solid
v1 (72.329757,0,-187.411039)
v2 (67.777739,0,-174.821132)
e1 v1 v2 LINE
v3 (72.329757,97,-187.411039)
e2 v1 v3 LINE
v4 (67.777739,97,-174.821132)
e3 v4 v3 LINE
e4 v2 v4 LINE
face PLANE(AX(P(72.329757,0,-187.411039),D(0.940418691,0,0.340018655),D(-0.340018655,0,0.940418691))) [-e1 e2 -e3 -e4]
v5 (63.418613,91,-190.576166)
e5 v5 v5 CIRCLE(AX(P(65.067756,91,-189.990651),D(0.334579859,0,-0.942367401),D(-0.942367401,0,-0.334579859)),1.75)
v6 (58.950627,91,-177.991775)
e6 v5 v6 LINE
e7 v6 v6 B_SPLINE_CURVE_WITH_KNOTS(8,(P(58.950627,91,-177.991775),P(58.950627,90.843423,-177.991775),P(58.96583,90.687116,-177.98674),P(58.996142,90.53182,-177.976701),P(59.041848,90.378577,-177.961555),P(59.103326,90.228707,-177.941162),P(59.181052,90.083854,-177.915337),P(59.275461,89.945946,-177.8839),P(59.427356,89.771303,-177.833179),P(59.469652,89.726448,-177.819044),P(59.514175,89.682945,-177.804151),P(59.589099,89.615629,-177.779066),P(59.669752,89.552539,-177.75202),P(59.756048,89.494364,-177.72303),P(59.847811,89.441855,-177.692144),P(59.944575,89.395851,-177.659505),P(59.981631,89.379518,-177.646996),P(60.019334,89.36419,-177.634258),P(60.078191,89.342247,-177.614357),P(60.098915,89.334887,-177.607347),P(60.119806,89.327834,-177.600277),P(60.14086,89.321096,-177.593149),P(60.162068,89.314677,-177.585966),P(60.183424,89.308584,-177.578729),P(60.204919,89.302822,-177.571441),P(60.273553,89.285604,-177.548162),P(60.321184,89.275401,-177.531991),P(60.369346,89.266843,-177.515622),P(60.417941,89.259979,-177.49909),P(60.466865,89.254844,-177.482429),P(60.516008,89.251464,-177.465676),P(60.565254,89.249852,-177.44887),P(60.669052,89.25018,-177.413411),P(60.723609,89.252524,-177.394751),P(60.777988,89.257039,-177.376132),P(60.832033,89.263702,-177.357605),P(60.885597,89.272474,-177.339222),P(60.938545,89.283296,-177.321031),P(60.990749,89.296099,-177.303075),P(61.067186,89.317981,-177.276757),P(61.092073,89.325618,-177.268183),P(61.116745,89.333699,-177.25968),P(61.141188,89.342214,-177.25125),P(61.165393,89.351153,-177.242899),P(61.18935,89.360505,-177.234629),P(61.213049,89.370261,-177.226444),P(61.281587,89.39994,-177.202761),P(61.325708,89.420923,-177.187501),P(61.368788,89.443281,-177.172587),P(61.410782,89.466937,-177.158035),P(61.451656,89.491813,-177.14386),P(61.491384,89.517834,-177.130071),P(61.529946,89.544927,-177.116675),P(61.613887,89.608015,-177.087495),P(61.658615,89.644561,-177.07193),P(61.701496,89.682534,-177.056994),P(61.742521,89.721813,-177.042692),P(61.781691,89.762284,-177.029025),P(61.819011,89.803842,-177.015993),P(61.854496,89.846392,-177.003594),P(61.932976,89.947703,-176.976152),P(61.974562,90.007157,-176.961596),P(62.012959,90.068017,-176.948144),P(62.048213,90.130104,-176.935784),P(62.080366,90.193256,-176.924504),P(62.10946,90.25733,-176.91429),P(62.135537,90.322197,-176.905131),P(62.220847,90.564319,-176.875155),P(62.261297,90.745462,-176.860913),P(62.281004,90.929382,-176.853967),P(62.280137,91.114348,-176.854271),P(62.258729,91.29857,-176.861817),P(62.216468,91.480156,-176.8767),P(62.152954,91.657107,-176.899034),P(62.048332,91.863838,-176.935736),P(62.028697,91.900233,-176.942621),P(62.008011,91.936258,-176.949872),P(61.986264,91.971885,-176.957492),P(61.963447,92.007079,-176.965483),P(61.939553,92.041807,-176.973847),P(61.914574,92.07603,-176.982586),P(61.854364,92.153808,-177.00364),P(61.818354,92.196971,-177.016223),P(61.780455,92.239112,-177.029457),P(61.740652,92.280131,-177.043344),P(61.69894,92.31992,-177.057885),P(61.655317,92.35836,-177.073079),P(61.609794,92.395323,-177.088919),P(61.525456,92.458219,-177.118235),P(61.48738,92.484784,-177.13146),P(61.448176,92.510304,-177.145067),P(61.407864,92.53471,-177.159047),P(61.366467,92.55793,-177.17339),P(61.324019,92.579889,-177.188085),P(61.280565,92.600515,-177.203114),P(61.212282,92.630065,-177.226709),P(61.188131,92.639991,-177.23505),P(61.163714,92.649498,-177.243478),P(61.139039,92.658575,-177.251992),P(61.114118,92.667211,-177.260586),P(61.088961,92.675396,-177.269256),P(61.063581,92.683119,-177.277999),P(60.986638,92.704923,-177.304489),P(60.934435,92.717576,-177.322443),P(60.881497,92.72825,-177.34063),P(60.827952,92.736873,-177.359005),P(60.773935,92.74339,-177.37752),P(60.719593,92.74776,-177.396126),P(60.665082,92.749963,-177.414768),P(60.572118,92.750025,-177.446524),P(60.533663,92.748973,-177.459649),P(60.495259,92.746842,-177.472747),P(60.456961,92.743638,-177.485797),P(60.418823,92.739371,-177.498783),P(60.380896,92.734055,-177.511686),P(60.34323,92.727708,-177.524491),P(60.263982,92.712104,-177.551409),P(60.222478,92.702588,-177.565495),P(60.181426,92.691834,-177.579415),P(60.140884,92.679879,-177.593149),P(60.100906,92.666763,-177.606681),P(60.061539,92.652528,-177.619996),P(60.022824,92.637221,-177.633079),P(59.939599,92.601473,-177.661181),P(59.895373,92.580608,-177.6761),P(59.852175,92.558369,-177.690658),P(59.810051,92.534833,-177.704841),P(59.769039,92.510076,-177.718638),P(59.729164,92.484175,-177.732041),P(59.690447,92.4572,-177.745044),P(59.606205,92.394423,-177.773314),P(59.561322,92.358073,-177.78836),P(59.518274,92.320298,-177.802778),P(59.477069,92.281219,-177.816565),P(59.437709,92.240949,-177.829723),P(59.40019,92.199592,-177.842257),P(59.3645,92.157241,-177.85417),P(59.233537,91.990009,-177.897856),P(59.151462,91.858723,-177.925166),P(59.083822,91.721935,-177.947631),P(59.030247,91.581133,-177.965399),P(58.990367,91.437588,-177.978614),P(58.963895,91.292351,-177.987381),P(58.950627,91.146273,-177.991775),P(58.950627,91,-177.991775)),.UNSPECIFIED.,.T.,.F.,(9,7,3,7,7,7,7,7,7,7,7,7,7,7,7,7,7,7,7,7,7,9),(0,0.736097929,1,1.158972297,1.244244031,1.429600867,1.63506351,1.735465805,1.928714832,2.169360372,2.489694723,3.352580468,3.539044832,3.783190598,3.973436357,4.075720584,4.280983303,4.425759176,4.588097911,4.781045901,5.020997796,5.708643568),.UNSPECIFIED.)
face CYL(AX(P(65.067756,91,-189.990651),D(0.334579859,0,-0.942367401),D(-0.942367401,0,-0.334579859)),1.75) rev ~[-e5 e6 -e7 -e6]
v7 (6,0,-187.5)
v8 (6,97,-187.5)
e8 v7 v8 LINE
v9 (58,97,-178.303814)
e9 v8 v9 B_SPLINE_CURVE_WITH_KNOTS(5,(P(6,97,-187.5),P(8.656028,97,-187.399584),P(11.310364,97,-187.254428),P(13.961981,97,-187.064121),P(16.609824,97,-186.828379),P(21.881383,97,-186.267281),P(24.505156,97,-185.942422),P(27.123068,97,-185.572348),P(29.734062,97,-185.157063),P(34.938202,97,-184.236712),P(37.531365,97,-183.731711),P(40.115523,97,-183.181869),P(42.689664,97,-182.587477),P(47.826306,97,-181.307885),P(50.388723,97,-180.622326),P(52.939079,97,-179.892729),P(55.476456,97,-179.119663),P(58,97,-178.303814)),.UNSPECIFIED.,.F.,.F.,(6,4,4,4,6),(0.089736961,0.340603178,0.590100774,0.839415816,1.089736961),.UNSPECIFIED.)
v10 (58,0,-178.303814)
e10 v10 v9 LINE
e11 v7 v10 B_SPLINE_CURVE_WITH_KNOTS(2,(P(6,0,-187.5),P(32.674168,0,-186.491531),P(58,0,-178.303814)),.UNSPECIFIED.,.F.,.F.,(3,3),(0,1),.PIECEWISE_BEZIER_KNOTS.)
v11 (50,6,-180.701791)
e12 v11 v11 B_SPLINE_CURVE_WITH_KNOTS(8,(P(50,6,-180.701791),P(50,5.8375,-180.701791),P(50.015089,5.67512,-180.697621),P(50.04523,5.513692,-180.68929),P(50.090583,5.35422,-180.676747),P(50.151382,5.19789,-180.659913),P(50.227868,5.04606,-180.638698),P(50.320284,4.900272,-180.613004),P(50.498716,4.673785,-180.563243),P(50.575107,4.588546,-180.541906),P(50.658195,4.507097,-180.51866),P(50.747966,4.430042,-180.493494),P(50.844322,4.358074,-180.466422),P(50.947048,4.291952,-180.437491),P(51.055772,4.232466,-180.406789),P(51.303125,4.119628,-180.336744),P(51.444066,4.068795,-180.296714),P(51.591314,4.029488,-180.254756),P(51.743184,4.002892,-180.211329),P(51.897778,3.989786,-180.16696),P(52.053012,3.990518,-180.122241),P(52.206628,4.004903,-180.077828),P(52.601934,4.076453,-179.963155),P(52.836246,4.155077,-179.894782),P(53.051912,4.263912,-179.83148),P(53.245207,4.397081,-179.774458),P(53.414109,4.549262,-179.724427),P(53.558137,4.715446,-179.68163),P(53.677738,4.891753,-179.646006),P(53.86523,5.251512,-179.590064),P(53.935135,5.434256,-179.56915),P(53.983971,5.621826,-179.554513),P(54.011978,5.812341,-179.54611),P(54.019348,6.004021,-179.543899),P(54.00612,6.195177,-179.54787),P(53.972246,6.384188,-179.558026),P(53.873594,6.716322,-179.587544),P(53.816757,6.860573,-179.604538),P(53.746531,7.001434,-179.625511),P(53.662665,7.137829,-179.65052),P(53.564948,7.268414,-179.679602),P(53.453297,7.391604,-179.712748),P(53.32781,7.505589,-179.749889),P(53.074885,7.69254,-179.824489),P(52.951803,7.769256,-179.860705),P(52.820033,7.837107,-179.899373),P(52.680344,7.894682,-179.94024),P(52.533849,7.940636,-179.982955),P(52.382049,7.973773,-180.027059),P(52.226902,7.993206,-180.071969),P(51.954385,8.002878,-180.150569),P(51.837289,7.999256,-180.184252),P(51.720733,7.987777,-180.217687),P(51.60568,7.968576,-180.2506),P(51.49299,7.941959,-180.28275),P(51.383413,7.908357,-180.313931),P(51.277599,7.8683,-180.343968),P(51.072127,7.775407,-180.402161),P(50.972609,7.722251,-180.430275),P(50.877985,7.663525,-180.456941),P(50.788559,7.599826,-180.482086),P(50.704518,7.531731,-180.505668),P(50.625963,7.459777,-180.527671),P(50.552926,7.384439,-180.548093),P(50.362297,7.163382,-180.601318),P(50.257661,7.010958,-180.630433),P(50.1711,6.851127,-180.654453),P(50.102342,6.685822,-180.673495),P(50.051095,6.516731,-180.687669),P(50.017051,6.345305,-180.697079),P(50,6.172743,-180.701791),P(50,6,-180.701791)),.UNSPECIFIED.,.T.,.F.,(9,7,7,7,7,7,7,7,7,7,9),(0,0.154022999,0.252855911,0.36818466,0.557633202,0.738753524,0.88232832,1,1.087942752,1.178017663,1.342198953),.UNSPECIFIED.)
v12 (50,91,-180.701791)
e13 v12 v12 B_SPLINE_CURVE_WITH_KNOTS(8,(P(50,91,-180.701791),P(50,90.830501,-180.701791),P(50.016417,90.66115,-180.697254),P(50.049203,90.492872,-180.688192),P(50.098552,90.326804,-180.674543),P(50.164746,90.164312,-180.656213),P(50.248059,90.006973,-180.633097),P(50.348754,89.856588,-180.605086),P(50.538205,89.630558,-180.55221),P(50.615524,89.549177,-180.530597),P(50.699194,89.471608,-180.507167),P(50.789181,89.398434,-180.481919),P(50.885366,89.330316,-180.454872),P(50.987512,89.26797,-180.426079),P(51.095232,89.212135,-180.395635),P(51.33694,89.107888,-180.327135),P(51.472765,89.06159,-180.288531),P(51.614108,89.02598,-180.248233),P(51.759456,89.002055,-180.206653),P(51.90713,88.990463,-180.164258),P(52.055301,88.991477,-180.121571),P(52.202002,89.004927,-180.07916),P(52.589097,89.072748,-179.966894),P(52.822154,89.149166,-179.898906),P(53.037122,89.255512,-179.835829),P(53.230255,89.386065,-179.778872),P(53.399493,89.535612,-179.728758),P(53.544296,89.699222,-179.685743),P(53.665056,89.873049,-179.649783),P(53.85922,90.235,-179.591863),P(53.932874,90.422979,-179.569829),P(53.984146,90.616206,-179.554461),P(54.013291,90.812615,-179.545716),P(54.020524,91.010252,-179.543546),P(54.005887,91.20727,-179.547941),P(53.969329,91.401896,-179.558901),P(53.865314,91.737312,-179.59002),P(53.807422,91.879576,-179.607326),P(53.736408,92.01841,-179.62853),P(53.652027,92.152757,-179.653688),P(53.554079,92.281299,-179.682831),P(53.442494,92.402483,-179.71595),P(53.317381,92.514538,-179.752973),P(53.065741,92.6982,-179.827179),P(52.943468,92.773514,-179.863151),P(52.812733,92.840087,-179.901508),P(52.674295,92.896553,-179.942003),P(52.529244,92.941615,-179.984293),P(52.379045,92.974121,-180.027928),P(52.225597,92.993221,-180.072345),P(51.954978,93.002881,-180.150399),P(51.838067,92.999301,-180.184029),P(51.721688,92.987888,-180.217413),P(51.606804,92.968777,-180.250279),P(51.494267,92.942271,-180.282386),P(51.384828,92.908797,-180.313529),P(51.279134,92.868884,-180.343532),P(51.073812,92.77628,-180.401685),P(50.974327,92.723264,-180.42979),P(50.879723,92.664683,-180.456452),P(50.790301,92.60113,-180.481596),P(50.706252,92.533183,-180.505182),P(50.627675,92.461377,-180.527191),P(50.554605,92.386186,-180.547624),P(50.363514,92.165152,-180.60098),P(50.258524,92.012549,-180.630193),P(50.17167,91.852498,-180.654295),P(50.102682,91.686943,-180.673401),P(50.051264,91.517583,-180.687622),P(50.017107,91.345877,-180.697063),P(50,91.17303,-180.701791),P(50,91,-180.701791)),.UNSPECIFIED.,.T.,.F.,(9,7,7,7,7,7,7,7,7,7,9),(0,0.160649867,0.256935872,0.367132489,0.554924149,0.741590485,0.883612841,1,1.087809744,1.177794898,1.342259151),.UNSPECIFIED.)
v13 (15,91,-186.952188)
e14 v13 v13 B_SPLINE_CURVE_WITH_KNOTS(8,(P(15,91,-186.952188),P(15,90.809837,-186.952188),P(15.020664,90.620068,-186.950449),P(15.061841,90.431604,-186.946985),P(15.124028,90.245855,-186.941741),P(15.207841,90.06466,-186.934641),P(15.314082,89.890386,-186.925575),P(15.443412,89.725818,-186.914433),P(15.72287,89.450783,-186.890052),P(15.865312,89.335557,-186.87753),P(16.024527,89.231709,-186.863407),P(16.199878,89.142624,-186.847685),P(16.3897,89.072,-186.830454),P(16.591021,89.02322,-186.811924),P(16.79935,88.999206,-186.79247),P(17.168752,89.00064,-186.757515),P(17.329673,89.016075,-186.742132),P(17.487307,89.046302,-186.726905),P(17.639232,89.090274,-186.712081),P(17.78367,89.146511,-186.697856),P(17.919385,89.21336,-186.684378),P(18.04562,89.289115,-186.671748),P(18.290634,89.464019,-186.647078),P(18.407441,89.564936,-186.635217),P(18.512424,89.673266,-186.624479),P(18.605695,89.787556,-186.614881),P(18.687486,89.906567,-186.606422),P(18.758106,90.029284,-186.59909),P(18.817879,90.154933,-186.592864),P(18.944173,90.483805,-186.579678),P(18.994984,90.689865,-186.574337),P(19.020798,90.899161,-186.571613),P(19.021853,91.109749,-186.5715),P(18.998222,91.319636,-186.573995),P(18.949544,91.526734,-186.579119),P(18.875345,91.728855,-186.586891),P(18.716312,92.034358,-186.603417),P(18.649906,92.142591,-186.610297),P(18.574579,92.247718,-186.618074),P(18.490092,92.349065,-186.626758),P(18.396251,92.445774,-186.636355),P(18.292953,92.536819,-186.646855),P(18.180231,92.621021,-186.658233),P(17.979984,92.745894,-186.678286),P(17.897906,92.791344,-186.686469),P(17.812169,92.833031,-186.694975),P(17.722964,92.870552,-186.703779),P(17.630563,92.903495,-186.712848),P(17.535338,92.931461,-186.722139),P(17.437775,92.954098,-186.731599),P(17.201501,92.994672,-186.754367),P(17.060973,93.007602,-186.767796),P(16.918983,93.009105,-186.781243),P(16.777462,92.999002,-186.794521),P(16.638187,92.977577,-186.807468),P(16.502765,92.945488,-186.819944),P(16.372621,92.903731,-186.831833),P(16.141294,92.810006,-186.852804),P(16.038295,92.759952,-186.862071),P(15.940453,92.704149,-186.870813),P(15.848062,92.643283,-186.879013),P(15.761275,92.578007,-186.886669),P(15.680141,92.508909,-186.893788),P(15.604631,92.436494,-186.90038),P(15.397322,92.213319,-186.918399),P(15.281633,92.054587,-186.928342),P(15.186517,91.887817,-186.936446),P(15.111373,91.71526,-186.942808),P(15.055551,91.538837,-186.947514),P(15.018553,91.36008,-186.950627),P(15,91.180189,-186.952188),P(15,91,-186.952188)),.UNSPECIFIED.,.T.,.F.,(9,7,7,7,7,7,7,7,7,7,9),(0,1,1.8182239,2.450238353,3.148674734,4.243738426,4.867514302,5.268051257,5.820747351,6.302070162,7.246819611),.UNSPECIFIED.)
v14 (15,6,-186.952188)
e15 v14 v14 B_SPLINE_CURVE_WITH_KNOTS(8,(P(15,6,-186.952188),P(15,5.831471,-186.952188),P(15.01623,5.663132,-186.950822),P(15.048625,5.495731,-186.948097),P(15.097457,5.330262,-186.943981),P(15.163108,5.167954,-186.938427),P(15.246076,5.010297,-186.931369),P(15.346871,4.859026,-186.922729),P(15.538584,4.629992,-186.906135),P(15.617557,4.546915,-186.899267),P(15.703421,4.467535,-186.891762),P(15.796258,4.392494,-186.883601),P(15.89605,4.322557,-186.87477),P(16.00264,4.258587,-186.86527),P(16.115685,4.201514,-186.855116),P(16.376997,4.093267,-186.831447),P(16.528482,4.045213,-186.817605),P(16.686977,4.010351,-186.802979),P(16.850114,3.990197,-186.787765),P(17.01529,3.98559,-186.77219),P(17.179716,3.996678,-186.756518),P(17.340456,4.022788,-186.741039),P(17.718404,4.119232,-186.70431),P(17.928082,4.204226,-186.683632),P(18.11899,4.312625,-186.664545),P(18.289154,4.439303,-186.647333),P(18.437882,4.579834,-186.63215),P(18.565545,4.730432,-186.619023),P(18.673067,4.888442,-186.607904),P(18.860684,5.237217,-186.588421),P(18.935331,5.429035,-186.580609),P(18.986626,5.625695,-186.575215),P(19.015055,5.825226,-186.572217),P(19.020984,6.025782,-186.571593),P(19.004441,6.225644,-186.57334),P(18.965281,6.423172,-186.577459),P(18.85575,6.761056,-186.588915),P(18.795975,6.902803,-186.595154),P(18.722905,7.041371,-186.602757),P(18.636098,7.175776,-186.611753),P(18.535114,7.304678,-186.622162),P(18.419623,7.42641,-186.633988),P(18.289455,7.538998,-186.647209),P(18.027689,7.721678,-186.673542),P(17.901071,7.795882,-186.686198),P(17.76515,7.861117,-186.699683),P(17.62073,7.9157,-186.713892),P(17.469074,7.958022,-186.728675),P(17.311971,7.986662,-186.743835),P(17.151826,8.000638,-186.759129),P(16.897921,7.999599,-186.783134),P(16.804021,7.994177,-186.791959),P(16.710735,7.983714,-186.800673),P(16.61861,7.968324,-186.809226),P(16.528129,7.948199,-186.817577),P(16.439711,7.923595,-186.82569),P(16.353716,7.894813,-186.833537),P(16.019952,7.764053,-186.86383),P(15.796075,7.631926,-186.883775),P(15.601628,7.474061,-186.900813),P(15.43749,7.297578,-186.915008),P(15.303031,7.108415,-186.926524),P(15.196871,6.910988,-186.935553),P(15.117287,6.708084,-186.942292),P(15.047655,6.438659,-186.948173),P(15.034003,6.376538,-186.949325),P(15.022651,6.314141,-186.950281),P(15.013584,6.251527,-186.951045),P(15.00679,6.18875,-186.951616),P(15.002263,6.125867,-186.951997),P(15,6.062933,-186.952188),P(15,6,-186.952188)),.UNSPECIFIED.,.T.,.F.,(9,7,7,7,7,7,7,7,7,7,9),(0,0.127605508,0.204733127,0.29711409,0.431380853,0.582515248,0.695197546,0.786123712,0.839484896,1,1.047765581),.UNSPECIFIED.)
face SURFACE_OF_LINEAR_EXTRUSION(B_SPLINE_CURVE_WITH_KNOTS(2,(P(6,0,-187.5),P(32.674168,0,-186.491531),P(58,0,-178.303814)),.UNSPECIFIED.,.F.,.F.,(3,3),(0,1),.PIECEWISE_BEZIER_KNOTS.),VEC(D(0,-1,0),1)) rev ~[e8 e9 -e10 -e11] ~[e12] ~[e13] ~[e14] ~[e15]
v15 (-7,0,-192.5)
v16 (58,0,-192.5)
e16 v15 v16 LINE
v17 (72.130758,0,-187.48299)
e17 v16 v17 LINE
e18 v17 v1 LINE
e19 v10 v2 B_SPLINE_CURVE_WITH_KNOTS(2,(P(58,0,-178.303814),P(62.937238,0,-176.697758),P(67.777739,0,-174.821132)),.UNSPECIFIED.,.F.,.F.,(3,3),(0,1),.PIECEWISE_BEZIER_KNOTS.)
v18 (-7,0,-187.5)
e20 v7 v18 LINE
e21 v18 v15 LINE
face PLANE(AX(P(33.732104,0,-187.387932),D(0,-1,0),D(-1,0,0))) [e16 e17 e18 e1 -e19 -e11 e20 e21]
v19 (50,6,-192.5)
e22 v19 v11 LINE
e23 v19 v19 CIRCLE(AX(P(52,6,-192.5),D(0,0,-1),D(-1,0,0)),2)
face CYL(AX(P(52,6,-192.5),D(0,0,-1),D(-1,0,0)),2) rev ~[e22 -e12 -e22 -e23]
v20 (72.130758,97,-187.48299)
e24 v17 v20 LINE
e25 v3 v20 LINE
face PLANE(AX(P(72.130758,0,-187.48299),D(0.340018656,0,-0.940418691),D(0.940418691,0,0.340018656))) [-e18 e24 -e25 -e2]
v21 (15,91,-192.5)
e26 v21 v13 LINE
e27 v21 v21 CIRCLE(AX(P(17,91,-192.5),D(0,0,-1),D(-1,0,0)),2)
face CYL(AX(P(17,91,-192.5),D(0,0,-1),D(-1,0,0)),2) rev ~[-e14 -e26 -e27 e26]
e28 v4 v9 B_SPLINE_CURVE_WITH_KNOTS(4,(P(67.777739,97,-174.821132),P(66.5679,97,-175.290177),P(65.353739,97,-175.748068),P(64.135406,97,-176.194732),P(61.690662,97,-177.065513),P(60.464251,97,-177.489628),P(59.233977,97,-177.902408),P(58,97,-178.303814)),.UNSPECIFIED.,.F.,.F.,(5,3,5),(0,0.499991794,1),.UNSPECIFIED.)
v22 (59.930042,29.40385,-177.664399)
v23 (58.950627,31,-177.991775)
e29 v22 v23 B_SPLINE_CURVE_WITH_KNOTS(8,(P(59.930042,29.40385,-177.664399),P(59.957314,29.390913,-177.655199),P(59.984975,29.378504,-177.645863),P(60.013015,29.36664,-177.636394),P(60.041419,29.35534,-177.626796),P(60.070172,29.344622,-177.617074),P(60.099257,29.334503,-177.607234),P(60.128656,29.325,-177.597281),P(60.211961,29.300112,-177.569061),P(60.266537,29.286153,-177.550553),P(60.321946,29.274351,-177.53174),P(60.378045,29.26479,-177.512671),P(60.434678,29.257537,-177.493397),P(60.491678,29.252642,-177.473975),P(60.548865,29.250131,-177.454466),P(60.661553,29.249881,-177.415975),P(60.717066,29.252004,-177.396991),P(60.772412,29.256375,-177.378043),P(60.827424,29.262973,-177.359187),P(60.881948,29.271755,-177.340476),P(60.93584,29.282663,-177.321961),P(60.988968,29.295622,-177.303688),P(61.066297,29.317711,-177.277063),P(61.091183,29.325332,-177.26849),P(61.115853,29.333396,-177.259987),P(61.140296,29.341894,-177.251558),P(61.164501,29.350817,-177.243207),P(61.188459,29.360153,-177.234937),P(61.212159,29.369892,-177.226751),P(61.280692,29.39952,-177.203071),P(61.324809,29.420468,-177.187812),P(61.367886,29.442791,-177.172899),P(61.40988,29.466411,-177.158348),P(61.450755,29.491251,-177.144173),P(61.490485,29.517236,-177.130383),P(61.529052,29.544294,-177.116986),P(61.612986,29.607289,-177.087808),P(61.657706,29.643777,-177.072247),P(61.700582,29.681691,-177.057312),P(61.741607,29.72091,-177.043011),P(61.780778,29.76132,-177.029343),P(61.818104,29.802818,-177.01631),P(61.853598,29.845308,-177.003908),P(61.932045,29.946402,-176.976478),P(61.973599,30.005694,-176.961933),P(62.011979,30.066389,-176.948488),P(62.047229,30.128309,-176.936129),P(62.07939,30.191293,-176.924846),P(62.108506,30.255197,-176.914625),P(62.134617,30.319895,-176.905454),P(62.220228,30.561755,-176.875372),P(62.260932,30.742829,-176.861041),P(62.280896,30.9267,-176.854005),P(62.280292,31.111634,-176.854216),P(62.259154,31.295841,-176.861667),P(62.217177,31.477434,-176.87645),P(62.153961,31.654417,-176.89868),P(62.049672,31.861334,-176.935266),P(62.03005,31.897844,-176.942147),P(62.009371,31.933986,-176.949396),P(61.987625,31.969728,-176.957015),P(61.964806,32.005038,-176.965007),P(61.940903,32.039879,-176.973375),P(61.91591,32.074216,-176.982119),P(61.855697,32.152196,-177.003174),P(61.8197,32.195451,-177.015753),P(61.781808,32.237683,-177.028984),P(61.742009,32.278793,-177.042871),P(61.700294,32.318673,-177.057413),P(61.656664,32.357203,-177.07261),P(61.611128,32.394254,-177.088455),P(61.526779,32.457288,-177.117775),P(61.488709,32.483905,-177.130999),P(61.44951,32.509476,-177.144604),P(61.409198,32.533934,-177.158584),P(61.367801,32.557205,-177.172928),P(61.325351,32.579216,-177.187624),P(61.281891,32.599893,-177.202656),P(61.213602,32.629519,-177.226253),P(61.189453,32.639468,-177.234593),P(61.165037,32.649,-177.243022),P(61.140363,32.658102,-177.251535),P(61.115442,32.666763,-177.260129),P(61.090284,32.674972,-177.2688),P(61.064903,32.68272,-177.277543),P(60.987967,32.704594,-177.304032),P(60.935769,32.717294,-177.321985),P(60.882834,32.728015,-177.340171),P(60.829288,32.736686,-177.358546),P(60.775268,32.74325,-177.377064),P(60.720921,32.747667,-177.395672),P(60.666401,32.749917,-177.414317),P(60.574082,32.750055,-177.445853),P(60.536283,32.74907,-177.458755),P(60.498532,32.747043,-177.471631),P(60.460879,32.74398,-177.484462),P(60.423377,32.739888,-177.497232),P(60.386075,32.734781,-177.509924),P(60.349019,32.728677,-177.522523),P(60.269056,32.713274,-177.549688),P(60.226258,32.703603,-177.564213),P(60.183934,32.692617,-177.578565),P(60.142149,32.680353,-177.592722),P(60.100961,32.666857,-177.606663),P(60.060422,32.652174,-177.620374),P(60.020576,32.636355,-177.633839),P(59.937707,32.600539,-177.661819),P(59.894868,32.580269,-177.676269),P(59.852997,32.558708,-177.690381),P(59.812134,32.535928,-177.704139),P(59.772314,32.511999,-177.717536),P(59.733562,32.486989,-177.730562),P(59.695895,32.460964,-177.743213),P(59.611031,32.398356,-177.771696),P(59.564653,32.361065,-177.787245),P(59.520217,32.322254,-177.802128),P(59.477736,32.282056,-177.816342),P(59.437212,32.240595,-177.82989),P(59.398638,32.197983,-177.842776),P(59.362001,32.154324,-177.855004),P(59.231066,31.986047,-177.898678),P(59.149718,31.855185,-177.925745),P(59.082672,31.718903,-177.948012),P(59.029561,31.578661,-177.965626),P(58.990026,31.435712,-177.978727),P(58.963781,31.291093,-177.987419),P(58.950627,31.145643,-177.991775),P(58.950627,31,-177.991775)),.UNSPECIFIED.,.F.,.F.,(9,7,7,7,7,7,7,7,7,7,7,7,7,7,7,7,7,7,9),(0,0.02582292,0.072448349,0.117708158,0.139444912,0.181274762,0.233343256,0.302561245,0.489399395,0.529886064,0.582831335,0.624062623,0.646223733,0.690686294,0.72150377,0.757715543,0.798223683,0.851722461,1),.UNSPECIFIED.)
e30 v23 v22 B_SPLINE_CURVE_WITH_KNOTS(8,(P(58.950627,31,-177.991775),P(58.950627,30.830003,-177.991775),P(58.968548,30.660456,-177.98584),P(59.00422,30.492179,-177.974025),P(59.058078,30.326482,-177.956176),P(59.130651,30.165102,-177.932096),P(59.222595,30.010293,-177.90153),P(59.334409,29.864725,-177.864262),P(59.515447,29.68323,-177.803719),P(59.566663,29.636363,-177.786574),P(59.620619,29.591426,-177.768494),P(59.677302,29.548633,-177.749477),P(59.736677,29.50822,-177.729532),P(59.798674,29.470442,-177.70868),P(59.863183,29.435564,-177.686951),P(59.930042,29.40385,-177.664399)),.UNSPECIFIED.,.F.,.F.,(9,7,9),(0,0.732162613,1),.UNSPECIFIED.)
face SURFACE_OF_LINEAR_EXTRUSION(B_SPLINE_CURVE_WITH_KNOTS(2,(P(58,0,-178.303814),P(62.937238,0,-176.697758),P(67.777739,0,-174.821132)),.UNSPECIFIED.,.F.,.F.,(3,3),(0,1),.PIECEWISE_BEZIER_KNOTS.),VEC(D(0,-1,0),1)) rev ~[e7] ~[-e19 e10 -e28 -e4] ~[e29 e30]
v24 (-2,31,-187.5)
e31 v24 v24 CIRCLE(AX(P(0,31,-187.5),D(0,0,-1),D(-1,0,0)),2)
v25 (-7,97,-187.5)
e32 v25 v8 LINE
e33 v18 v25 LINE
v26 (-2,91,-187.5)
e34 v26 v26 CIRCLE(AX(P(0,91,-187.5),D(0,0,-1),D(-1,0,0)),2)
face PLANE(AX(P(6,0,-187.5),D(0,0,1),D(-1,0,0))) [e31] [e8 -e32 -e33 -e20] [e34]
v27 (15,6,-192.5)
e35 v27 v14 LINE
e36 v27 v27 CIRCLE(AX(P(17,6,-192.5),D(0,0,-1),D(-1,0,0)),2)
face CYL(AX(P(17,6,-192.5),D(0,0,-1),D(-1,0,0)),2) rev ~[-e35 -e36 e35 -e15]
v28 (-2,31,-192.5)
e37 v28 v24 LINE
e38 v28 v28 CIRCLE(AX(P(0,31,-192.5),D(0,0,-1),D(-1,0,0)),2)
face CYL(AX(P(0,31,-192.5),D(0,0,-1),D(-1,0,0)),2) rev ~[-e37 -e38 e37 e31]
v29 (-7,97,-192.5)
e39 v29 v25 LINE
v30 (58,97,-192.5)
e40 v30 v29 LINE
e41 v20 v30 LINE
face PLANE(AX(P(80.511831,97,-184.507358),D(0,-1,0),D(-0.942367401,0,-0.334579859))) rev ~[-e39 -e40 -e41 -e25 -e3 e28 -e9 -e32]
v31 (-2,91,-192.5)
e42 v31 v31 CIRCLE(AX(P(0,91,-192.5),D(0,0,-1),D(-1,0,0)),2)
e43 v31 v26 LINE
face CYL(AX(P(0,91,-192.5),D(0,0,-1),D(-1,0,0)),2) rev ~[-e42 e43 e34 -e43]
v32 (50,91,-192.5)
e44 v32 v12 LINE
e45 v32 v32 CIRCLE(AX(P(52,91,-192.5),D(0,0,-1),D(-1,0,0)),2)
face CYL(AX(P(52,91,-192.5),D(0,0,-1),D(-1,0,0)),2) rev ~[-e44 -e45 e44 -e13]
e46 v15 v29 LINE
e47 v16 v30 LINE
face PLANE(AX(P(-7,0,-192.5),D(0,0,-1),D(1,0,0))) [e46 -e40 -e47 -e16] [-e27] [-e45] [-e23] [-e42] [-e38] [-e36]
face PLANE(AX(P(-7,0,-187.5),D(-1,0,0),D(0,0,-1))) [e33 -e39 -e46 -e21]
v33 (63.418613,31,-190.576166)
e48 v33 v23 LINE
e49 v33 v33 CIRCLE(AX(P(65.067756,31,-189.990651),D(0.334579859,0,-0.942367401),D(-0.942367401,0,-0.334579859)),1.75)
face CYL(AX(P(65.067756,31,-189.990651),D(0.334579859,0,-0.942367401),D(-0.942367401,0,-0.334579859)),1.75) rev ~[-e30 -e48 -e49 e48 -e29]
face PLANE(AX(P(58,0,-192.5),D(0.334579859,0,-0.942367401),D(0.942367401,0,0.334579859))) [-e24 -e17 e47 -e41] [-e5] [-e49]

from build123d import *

# Parameters (mm, degrees)
BOSS_EXTRUDE1_DEPTH = 120
SKETCH7_R           = 2
SKETCH7_W           = 65
SKETCH7_H           = 23
CUT_EXTRUDE3_DEPTH  = 20
SKETCH8_R           = 1.75
CUT_EXTRUDE4_DEPTH  = 20


with BuildPart() as part:
    # Sketch2 → Boss-Extrude1 (new body)
    with BuildSketch(Plane(origin=(0, 0, 0), x_dir=(1, 0, 0), z_dir=(0, 1, 0))):
        with BuildLine():
            Line((7.497222042, 192.5), (58, 192.5))
            Line((58, 192.5), (72.130758111, 187.482989601))
            Line((72.130758111, 187.482989601), (72.329757157, 187.411039321))
            Line((72.329757157, 187.411039321), (67.777738536, 174.8211319))
            add(Edge.make_bspline(
                [(58, 178.303813756), (62.937238269, 176.697757749), (67.777738536, 174.8211319)],
                knots=[0, 0, 0, 1, 1, 1], degree=2))
            add(Edge.make_bspline(
                [(6, 187.5), (32.674168427, 186.491531402), (58, 178.303813756)],
                knots=[0, 0, 0, 1, 1, 1], degree=2))
            Line((6, 187.5), (-7, 187.5))
            Line((-7, 187.5), (-7, 192.5))
            Line((-7, 192.5), (7.497222042, 192.5))
        make_face()
    extrude(amount=BOSS_EXTRUDE1_DEPTH)

    # Sketch7 → Cut-Extrude3 (cut)
    with BuildSketch(Plane(origin=(0, 0, -192.5), x_dir=(-1, 0, 0), z_dir=(0, 0, -1))):
        with Locations((-17, 6)):
            Circle(SKETCH7_R)
        with Locations((-52, 6)):
            Circle(SKETCH7_R)
        with Locations((-17, 91)):
            Circle(SKETCH7_R)
        with Locations((-52, 91)):
            Circle(SKETCH7_R)
        with Locations((0, 31)):
            Circle(SKETCH7_R)
        with Locations((0, 91)):
            Circle(SKETCH7_R)
        with Locations((-25.5, 108.5)):
            Rectangle(SKETCH7_W, SKETCH7_H)
    extrude(amount=-CUT_EXTRUDE3_DEPTH, mode=Mode.SUBTRACT)

    # Sketch8 → Cut-Extrude4 (cut)
    with BuildSketch(Plane(origin=(67.187435243, 0, -189.238076061), x_dir=(-0.9423674008829427, 0, -0.33457985855865147), z_dir=(0.33457985855865147, 0, -0.9423674008829428))):
        with Locations((2.249313521, 31)):
            Circle(SKETCH8_R)
        with Locations((2.249313521, 91)):
            Circle(SKETCH8_R)
        Polygon((9.749313521, 97), (-5.245642901, 97), (-14.139279105, 97), (-14.139279105, 120), (-5.245642901, 120), (9.749313521, 120), align=None)
    extrude(amount=-CUT_EXTRUDE4_DEPTH, mode=Mode.SUBTRACT)


solid = part.part
